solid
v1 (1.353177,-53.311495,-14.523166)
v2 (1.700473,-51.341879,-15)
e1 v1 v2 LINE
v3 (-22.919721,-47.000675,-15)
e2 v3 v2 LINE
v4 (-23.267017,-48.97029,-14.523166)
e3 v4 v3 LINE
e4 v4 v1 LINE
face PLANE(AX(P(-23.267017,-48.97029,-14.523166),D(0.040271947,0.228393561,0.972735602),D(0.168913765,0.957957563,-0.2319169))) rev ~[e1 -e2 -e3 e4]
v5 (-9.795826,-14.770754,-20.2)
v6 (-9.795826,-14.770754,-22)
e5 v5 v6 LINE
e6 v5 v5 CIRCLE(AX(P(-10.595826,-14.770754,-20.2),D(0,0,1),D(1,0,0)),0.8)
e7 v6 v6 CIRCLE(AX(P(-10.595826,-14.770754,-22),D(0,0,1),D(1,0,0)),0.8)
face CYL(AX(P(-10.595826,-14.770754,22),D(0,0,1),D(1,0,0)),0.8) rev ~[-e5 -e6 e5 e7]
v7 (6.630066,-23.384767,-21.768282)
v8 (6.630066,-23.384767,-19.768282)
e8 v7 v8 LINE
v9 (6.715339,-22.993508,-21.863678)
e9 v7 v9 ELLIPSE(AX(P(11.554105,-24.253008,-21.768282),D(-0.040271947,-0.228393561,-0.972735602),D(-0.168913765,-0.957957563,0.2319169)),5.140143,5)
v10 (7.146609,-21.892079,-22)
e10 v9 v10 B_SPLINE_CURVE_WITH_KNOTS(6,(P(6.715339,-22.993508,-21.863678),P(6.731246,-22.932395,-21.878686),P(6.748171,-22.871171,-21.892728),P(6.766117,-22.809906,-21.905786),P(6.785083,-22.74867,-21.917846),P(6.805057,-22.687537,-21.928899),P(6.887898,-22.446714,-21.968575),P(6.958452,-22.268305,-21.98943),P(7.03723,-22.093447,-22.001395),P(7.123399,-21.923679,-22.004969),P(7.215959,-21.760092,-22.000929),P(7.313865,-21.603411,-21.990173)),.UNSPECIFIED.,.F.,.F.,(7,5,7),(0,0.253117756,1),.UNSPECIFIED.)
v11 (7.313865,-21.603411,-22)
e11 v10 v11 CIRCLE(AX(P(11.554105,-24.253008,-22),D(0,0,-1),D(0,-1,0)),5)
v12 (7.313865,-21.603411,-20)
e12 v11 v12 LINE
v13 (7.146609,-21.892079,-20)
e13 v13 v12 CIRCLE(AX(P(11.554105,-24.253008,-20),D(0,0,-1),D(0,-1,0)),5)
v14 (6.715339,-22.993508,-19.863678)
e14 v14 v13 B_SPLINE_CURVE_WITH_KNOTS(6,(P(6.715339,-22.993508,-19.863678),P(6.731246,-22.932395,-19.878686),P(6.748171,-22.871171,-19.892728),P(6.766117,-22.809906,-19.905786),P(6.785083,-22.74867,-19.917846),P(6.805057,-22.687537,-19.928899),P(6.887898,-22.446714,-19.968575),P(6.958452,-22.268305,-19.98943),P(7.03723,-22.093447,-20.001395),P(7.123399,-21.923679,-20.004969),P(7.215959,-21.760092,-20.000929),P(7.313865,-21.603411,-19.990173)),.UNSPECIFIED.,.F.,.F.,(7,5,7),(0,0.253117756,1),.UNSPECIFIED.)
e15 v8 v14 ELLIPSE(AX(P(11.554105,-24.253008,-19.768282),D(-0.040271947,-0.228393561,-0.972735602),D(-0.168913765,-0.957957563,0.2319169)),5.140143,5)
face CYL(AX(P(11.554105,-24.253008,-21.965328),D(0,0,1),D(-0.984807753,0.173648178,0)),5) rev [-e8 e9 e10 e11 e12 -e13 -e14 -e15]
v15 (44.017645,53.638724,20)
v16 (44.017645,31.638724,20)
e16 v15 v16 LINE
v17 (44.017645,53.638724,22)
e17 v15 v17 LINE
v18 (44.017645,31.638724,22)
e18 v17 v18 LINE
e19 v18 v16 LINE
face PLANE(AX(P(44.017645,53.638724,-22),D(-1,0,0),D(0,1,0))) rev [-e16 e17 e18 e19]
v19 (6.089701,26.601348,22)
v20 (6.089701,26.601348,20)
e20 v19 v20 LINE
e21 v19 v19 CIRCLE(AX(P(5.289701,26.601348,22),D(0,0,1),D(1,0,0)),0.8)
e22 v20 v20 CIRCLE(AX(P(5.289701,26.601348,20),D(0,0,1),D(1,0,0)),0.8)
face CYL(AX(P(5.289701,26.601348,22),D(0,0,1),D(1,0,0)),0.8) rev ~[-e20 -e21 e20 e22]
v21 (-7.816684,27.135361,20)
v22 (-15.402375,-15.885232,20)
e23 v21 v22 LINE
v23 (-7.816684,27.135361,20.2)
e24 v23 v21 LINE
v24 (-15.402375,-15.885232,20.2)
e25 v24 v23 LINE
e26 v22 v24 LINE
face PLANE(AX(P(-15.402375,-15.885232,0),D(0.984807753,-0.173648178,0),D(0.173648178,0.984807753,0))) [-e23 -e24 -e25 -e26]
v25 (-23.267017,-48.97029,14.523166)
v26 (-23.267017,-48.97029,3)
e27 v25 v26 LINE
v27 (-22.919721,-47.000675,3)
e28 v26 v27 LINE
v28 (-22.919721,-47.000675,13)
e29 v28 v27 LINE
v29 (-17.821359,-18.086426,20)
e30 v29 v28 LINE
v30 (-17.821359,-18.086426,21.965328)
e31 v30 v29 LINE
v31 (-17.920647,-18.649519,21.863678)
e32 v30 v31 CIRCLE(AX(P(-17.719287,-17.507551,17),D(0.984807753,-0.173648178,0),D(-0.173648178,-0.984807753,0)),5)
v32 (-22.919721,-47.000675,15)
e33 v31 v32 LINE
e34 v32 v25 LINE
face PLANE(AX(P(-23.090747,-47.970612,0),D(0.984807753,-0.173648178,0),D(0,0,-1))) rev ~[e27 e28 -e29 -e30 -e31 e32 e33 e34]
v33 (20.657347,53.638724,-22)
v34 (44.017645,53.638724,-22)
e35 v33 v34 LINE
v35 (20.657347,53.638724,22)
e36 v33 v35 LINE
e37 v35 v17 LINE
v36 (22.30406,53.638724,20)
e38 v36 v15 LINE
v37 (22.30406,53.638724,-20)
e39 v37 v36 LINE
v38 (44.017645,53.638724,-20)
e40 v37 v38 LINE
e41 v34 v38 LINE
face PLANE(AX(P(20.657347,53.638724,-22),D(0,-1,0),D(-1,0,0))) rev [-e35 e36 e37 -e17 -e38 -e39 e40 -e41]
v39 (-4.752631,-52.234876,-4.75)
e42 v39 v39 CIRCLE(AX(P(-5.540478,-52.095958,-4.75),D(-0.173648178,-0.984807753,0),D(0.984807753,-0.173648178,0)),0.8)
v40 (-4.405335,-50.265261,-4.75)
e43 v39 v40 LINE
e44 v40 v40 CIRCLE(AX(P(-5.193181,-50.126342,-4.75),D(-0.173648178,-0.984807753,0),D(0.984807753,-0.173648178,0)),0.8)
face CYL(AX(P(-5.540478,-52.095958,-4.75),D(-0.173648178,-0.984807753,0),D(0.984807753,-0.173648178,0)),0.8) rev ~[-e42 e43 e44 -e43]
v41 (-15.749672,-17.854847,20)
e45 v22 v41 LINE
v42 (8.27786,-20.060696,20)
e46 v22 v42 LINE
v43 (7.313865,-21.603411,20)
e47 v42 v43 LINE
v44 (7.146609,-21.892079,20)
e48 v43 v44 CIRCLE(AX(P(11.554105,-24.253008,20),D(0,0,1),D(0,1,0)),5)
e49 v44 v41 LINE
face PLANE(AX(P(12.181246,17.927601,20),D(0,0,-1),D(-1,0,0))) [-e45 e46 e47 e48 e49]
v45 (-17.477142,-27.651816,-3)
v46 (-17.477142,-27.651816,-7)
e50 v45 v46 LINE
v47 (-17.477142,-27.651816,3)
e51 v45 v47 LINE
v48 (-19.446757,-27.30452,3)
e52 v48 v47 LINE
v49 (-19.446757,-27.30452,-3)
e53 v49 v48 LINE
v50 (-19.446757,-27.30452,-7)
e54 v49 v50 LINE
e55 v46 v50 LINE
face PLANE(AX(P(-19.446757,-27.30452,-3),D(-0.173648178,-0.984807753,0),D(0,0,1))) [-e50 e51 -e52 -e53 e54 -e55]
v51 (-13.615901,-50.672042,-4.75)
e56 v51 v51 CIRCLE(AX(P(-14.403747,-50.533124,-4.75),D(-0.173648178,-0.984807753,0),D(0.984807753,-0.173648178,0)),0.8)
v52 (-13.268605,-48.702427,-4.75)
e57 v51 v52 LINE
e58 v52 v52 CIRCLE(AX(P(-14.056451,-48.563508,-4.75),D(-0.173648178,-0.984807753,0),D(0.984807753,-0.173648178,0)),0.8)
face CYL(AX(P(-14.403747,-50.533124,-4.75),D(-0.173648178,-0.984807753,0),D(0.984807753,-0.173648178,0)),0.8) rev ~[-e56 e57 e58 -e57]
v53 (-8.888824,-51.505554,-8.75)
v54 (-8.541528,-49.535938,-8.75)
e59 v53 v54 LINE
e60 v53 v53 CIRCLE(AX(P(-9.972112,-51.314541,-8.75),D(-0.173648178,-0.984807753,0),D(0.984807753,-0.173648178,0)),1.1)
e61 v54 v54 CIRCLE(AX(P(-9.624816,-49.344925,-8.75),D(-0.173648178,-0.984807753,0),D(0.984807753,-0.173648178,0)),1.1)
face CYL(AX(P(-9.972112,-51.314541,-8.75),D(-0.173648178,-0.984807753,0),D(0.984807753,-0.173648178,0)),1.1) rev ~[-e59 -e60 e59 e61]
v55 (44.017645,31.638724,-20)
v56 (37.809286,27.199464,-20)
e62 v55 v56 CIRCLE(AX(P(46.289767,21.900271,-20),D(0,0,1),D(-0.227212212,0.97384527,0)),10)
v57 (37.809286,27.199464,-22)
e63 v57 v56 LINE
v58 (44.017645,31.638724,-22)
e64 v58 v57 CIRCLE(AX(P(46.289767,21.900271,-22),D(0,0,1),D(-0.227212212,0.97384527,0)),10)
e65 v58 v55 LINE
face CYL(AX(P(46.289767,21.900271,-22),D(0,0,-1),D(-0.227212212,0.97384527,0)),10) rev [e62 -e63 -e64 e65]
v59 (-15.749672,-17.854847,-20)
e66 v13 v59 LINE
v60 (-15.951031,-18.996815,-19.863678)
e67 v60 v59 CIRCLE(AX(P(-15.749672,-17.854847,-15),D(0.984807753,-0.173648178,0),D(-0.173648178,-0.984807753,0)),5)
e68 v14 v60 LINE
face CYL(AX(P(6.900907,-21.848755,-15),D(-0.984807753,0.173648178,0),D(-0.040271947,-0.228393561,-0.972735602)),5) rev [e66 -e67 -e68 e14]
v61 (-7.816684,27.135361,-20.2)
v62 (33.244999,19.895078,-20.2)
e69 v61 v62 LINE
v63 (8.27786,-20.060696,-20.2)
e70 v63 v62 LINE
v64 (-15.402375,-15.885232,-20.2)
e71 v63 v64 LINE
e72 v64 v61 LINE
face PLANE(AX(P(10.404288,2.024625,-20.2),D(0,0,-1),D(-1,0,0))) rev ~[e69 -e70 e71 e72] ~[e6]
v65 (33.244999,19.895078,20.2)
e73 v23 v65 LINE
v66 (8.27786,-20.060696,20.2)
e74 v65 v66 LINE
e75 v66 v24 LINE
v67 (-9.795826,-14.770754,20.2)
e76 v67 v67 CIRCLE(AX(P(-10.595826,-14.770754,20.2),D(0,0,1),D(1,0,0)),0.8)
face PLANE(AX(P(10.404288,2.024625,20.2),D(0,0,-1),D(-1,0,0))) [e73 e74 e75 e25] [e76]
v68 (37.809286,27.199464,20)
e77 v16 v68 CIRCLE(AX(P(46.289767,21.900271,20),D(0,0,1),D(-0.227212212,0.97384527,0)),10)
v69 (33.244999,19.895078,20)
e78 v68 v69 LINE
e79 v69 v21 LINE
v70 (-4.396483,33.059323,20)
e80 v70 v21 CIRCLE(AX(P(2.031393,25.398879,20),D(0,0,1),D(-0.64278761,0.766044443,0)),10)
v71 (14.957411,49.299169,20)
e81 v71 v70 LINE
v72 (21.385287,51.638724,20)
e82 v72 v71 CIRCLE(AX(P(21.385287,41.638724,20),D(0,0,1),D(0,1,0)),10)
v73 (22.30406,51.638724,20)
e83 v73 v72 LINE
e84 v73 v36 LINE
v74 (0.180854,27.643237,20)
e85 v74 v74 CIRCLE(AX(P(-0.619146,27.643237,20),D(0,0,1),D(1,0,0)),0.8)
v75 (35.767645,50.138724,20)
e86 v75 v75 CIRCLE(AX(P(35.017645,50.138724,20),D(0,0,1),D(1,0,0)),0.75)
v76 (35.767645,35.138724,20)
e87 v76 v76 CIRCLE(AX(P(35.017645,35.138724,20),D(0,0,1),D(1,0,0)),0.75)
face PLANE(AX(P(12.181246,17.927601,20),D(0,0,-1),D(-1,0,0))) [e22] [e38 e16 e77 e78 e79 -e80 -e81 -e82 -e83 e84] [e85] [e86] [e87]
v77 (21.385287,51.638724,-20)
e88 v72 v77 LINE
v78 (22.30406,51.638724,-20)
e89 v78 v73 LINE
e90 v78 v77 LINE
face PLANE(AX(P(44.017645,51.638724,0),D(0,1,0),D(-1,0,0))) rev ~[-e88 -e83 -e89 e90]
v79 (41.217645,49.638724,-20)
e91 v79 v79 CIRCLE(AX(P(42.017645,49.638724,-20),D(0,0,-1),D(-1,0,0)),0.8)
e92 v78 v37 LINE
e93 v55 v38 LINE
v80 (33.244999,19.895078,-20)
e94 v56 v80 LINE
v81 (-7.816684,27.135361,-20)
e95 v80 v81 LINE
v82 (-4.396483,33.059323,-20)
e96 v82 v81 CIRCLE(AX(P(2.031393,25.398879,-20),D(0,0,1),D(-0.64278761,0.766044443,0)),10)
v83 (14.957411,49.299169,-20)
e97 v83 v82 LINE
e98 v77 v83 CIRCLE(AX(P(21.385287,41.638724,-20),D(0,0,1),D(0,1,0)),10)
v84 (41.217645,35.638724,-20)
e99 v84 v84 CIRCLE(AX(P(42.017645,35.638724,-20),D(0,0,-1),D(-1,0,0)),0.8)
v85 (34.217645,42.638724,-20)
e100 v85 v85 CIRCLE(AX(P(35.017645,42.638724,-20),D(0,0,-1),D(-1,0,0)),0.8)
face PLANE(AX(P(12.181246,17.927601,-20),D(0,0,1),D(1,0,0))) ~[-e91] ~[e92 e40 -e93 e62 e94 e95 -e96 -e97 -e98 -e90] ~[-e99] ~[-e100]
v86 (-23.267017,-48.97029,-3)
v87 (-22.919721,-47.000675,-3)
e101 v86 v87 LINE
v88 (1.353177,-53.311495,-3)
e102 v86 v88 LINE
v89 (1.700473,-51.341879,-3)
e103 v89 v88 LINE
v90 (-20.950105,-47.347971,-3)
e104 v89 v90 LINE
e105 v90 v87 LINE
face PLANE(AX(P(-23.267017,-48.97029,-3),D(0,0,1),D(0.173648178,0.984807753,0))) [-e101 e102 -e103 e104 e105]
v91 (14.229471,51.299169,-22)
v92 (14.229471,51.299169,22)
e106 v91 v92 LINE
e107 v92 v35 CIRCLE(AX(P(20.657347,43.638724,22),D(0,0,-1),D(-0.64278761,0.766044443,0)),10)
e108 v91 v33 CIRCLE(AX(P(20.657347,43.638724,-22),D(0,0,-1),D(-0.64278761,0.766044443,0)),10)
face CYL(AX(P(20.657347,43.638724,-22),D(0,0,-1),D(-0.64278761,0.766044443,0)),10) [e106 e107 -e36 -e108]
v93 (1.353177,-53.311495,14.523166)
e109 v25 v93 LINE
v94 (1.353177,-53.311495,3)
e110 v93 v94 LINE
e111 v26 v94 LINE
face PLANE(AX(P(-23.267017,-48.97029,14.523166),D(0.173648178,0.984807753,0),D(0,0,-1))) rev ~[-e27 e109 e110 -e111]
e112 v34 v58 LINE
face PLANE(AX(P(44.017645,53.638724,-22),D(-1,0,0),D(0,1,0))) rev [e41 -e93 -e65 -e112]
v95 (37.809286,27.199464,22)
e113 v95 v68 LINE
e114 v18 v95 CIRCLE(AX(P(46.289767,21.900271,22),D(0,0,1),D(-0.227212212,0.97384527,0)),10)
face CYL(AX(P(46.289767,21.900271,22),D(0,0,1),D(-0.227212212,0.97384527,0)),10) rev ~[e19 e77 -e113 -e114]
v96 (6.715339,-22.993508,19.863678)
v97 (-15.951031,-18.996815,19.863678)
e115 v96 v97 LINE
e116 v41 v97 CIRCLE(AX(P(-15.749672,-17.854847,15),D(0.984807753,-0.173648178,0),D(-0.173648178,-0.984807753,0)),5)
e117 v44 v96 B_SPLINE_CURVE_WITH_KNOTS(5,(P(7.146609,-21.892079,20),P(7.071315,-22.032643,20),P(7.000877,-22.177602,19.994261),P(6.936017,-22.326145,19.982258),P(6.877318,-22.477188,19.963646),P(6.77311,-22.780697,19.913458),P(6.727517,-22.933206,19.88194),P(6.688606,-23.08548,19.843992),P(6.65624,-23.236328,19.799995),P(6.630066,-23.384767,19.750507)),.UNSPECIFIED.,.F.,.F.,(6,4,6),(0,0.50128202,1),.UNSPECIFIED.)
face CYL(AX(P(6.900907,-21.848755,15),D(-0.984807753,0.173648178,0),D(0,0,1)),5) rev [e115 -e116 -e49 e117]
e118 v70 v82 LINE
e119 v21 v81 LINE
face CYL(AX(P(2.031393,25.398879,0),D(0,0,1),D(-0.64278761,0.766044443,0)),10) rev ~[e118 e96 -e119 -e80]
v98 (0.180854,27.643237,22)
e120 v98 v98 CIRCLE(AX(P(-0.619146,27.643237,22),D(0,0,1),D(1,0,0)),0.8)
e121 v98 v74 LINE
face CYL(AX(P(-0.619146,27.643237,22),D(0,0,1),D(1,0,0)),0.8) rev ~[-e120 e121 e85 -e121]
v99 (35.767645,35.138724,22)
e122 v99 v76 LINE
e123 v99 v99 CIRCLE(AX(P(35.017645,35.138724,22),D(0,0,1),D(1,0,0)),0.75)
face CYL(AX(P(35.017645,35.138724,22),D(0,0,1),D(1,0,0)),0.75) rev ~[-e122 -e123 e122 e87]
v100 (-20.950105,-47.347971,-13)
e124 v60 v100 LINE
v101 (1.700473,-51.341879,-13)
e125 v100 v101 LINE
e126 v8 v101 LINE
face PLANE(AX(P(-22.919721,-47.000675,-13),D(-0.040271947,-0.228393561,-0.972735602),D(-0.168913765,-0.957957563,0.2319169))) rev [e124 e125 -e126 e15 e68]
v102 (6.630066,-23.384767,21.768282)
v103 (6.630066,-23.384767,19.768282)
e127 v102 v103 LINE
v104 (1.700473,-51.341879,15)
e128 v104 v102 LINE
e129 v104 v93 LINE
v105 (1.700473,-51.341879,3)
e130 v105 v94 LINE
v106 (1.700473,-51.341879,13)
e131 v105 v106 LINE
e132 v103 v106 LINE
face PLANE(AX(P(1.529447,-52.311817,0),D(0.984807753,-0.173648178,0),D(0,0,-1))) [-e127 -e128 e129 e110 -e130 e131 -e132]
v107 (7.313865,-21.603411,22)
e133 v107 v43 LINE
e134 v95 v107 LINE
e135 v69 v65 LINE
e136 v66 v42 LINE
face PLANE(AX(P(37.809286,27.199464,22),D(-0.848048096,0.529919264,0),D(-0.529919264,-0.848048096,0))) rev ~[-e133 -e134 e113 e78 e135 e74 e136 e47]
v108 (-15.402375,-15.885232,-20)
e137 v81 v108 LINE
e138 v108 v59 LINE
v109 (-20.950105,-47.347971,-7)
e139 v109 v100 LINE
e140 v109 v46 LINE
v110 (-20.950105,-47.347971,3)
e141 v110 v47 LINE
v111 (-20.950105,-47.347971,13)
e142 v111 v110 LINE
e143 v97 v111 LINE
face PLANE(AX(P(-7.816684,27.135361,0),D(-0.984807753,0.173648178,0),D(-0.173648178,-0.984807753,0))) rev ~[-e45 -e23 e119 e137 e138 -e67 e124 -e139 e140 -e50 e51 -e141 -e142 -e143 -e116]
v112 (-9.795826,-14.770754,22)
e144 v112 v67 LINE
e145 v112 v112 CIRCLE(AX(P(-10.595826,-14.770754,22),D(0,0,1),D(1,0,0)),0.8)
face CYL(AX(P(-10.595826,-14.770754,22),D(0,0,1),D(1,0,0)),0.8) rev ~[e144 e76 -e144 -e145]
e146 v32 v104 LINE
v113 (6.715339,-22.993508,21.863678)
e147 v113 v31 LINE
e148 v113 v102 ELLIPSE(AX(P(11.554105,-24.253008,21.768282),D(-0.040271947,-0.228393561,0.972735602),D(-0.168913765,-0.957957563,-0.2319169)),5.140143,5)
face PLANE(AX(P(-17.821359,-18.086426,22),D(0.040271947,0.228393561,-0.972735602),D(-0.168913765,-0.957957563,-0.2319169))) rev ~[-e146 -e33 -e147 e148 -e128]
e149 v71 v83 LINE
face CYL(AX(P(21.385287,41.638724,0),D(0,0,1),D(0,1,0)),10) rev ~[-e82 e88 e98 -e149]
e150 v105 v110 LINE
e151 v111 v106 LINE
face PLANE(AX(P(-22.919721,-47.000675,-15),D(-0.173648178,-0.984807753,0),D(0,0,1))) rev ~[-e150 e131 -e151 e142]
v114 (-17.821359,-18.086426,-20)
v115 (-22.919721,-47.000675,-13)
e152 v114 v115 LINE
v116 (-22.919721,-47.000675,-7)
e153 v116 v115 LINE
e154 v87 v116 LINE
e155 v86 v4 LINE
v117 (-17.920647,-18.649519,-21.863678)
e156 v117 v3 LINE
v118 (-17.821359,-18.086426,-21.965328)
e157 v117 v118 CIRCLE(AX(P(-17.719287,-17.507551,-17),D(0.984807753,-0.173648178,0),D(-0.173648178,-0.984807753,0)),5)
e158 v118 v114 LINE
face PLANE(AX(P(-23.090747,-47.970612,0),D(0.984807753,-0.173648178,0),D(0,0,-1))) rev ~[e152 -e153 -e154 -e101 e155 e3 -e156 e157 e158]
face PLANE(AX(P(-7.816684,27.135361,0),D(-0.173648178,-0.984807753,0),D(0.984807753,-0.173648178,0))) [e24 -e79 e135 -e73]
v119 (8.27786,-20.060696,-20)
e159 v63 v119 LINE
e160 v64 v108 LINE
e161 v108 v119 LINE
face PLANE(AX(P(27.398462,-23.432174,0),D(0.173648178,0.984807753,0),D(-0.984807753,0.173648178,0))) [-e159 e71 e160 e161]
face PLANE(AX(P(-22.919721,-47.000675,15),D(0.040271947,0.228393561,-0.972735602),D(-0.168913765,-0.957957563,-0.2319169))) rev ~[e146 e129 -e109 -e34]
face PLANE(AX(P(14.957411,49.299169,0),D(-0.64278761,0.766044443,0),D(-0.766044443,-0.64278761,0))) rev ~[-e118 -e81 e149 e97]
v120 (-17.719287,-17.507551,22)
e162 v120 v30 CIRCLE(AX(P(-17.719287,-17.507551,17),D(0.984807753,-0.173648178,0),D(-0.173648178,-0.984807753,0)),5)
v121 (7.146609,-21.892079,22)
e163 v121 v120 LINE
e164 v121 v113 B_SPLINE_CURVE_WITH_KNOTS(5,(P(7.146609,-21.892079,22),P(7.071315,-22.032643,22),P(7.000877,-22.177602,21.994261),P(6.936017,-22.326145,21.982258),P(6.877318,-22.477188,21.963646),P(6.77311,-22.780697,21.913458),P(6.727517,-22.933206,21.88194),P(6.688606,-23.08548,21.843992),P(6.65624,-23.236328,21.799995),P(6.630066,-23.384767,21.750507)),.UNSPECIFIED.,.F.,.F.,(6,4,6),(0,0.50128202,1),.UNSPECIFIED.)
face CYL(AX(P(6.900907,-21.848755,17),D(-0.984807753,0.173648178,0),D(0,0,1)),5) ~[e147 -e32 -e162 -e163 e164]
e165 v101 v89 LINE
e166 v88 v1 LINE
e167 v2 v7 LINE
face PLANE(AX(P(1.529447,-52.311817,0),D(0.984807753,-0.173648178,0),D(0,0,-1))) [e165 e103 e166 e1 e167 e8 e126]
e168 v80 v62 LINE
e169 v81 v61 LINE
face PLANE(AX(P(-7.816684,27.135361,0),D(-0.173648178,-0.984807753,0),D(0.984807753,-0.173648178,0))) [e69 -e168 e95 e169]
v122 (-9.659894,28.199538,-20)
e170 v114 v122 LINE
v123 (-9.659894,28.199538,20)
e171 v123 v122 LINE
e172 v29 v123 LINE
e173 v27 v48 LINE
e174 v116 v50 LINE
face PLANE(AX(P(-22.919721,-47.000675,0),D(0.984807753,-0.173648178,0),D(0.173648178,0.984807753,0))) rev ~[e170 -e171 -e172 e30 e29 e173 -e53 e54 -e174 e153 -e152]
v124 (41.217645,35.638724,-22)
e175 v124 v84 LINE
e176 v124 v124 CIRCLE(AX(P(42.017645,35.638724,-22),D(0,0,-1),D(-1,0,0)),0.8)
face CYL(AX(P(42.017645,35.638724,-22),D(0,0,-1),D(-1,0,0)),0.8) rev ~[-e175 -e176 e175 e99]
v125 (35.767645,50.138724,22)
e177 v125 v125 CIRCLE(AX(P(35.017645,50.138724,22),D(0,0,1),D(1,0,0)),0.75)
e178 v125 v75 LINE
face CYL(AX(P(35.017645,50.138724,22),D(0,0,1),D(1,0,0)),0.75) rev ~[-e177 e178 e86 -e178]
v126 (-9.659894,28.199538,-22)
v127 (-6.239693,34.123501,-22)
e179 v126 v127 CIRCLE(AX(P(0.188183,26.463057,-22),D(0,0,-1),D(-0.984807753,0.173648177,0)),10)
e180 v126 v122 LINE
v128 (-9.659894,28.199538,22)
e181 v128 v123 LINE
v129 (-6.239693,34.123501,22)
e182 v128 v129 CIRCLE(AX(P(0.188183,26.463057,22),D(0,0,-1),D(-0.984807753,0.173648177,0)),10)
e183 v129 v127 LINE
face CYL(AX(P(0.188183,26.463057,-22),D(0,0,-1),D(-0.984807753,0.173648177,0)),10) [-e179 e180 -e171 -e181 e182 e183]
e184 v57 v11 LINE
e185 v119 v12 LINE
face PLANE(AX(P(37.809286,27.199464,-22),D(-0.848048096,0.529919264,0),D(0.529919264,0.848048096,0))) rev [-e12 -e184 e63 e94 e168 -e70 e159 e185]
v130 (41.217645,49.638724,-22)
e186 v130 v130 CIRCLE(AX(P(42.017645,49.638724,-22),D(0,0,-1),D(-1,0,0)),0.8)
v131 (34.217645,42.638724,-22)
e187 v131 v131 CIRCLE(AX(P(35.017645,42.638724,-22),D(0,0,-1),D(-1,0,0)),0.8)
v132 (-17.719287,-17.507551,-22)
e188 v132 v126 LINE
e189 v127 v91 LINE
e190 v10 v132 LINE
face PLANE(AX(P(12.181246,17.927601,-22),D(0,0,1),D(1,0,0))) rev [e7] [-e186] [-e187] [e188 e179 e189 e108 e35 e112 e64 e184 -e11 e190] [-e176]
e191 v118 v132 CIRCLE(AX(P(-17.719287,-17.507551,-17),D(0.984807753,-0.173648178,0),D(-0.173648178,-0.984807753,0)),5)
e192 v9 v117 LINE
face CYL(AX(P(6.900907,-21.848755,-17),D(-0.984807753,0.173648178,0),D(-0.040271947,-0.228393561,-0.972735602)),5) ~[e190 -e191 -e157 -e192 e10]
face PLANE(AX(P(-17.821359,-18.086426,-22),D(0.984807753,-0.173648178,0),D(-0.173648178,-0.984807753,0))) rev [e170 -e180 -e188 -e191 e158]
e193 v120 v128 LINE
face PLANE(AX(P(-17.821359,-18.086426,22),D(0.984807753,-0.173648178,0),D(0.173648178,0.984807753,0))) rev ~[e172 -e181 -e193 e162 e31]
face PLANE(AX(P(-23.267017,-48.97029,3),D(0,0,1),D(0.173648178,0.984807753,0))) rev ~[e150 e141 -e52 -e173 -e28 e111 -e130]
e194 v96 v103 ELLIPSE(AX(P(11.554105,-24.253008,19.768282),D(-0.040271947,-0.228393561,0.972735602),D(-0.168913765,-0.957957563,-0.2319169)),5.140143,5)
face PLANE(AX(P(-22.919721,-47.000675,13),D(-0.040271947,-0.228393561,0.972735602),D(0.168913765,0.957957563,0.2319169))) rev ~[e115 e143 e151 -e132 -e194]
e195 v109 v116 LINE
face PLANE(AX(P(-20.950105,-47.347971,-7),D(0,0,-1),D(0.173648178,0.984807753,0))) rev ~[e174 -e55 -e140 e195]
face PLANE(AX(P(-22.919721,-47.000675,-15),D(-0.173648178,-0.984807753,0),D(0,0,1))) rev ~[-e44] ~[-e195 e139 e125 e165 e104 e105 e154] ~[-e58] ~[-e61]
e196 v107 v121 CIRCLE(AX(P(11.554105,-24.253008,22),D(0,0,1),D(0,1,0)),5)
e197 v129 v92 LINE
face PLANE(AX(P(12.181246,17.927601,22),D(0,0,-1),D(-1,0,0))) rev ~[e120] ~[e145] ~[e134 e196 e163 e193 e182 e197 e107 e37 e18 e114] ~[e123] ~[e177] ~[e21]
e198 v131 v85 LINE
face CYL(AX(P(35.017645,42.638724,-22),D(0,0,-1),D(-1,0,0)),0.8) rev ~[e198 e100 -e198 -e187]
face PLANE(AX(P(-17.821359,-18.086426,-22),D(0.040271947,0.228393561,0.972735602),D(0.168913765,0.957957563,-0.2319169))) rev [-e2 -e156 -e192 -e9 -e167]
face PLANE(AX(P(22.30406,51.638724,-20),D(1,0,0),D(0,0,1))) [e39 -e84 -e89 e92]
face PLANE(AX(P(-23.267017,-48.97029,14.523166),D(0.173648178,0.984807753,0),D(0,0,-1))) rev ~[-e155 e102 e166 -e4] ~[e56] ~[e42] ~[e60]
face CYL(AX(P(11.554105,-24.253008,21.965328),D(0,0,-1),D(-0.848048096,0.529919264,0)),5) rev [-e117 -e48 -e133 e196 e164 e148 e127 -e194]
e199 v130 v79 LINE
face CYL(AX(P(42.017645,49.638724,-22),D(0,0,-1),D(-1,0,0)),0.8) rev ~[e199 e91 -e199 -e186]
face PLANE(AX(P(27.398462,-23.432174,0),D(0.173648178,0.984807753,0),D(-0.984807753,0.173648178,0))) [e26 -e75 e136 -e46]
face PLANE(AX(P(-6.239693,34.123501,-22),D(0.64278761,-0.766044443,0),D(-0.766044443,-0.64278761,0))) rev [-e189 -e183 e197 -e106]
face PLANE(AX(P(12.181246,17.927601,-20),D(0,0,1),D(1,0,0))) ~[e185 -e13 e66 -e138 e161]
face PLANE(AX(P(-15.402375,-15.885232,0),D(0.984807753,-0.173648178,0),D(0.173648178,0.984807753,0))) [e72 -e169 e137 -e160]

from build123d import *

# Parameters (mm, degrees)
EXTRUDE_1_DEPTH      = 20
CUT_EXTRUDE_1_DEPTH  = 2
EXTRUDE_START        = 2
EXTRUDE_2_DEPTH      = 2
EXTRUDE_3_DEPTH      = 33
CUT_EXTRUDE_10_DEPTH = 22.5
EXTRUDE_4_DEPTH      = 25
SKETCH_19_W          = 6
SKETCH_19_H          = 22
CUT_EXTRUDE_11_DEPTH = 84.590810023
CUT_EXTRUDE_7_REACH  = 84.162
SKETCH_15_R          = 0.75
CUT_EXTRUDE_8_REACH  = 84.162
SKETCH_16_R          = 0.8
CUT_EXTRUDE_9_REACH  = 117.914
SKETCH_17_W          = 21.713584054
SKETCH_17_H          = 40
CUT_EXTRUDE_13_REACH = 84.162
SKETCH_23_R          = 0.8
SKETCH_24_R          = 0.8
CUT_EXTRUDE_14_DEPTH = 83.162435205
SKETCH_25_W          = 4
SKETCH_25_H          = 20
CUT_EXTRUDE_15_DEPTH = 82.996087258
CUT_EXTRUDE_16_REACH = 121.797
SKETCH_26_R          = 0.8
CUT_EXTRUDE_17_REACH = 121.797
SKETCH_27_R          = 1.1
FILLET_1_R           = 5
FILLET_2_R           = 5
FILLET_3_R           = 5
CUT_EXTRUDE_18_DEPTH = 20.2


with BuildPart() as part:
    # 草图1 → 凸台-拉伸1 (new, symmetric)
    with BuildSketch(Plane.XY):
        with BuildLine():
            Line((20.657346874, 53.638724152), (44.017644532, 53.638724152))
            Line((44.017644532, 53.638724152), (44.017644532, 51.638724152))
            Line((44.017644532, 51.638724152), (21.385287343, 51.638724152))
            ThreePointArc((21.385287343, 51.638724152), (17.96508591, 51.03565036), (14.957411246, 49.299168583))
            Line((14.957411246, 49.299168583), (-4.39648281, 33.059323219))
            ThreePointArc((-4.39648281, 33.059323219), (-6.628860751, 30.398878788), (-7.816684243, 27.135360565))
            Line((-7.816684243, 27.135360565), (-20.950105242, -47.347971173))
            Line((-20.950105242, -47.347971173), (-22.919720748, -47.000674818))
            Line((-22.919720748, -47.000674818), (-9.659894213, 28.199538337))
            ThreePointArc((-9.659894213, 28.199538337), (-8.472070721, 31.463056561), (-6.23969278, 34.123500992))
            Line((-6.23969278, 34.123500992), (14.229470778, 51.299168583))
            ThreePointArc((14.229470778, 51.299168583), (17.237145441, 53.03565036), (20.657346874, 53.638724152))
        make_face()
    extrude(amount=EXTRUDE_1_DEPTH, both=True)

    # 草图3 → 切除-拉伸1 (cut)
    with BuildSketch(Plane(origin=(-14.191017833, 2.502259328, 0), x_dir=(0, 0, 1), z_dir=(-0.9848077530122074, 0.17364817766693458, 0))):
        Polygon((13, -50.266596698), (20, -50.266596698), (20, -20.906299041), align=None)
    cut_extrude_1 = extrude(amount=-CUT_EXTRUDE_1_DEPTH, mode=Mode.SUBTRACT)

    # 镜向1: 切除-拉伸1 across plane
    add(cut_extrude_1.mirror(Plane.XY), mode=Mode.SUBTRACT)

    # 草图4 → 凸台-拉伸2 (add)
    with BuildSketch(Plane.XY.offset(20).offset(EXTRUDE_START)):
        with BuildLine():
            Line((44.017644532, 53.638724152), (44.017644532, 31.638724152))
            ThreePointArc((44.017644532, 31.638724152), (40.473292143, 30.034681338), (37.809285693, 27.199464091))
            Line((37.809285693, 27.199464091), (6.798835262, -22.427630496))
            Line((6.798835262, -22.427630496), (-17.821358564, -18.086426054))
            Line((-17.821358564, -18.086426054), (-9.659894213, 28.199538337))
            ThreePointArc((-9.659894213, 28.199538337), (-8.472070721, 31.463056561), (-6.23969278, 34.123500992))
            Line((-6.23969278, 34.123500992), (14.229470778, 51.299168583))
            ThreePointArc((14.229470778, 51.299168583), (17.237145441, 53.03565036), (20.657346874, 53.638724152))
            Line((20.657346874, 53.638724152), (44.017644532, 53.638724152))
        make_face()
    extrude_2 = extrude(amount=-EXTRUDE_2_DEPTH)

    # 草图5 → 凸台-拉伸3 (add)
    with BuildSketch(Plane(origin=(-14.191017833, 2.502259328, 0), x_dir=(0, 0, 1), z_dir=(-0.9848077530122074, 0.17364817766693458, 0))):
        Polygon((22, -20.906299041), (15, -50.266596698), (13, -50.266596698), (20, -20.906299041), align=None)
    extrude_3 = extrude(amount=-EXTRUDE_3_DEPTH)

    # 镜向3: 凸台-拉伸2, 凸台-拉伸3 across plane
    add(extrude_2.mirror(Plane.XY))
    add(extrude_3.mirror(Plane.XY))

    # 草图18 → 切除-拉伸10 (cut, symmetric)
    with BuildSketch(Plane.XY):
        Polygon((6.798835262, -22.427630496), (1.700473078, -51.34187926), (9.578935102, -52.731064681), (14.677297286, -23.816815917), align=None)
    extrude(amount=CUT_EXTRUDE_10_DEPTH, both=True, mode=Mode.SUBTRACT)

    # 草图10 → 凸台-拉伸4 (add)
    with BuildSketch(Plane(origin=(-14.191017833, 2.502259328, 0), x_dir=(0, 0, 1), z_dir=(-0.9848077530122074, 0.17364817766693458, 0))):
        Polygon((-15, -50.266596698), (15, -50.266596698), (14.523165597, -52.266596698), (-14.523165597, -52.266596698), align=None)
    extrude(amount=-EXTRUDE_4_DEPTH)

    # 草图19 → 切除-拉伸11 (cut, through all)
    with BuildSketch(Plane(origin=(-14.191017833, 2.502259328, 0), x_dir=(0, 0, 1), z_dir=(-0.9848077530122074, 0.17364817766693458, 0))):
        with Locations((0, -41.266596698)):
            Rectangle(SKETCH_19_W, SKETCH_19_H)
    extrude(amount=-CUT_EXTRUDE_11_DEPTH, mode=Mode.SUBTRACT)

    # 草图15 → 切除-拉伸7 (cut, up to next)
    with BuildSketch(Plane.XY.offset(22), mode=Mode.PRIVATE) as cut_extrude_7_sk1:
        with Locations((35.017644532, 50.138724152)):
            Circle(SKETCH_15_R)
    cut_extrude_7_tool1 = extrude(cut_extrude_7_sk1.sketch, amount=-CUT_EXTRUDE_7_REACH, mode=Mode.PRIVATE) & part.part
    # 草图15 → 切除-拉伸7 (cut, up to next)
    with BuildSketch(Plane.XY.offset(22), mode=Mode.PRIVATE) as cut_extrude_7_sk2:
        with Locations((35.017644532, 35.138724152)):
            Circle(SKETCH_15_R)
    cut_extrude_7_tool2 = extrude(cut_extrude_7_sk2.sketch, amount=-CUT_EXTRUDE_7_REACH, mode=Mode.PRIVATE) & part.part
    add(cut_extrude_7_tool1.solids().sort_by_distance((35.017645, 50.138724, 22))[0], mode=Mode.SUBTRACT)
    add(cut_extrude_7_tool2.solids().sort_by_distance((35.017645, 35.138724, 22))[0], mode=Mode.SUBTRACT)

    # 草图16 → 切除-拉伸8 (cut, up to next)
    with BuildSketch(Plane(origin=(0, 0, -22), x_dir=(-1, 0, 0), z_dir=(0, 0, -1)), mode=Mode.PRIVATE) as cut_extrude_8_sk1:
        with Locations((-42.017644532, 49.638724152)):
            Circle(SKETCH_16_R)
    cut_extrude_8_tool1 = extrude(cut_extrude_8_sk1.sketch, amount=-CUT_EXTRUDE_8_REACH, mode=Mode.PRIVATE) & part.part
    # 草图16 → 切除-拉伸8 (cut, up to next)
    with BuildSketch(Plane(origin=(0, 0, -22), x_dir=(-1, 0, 0), z_dir=(0, 0, -1)), mode=Mode.PRIVATE) as cut_extrude_8_sk2:
        with Locations((-42.017644532, 35.638724152)):
            Circle(SKETCH_16_R)
    cut_extrude_8_tool2 = extrude(cut_extrude_8_sk2.sketch, amount=-CUT_EXTRUDE_8_REACH, mode=Mode.PRIVATE) & part.part
    # 草图16 → 切除-拉伸8 (cut, up to next)
    with BuildSketch(Plane(origin=(0, 0, -22), x_dir=(-1, 0, 0), z_dir=(0, 0, -1)), mode=Mode.PRIVATE) as cut_extrude_8_sk3:
        with Locations((-35.017644532, 42.638724152)):
            Circle(SKETCH_16_R)
    cut_extrude_8_tool3 = extrude(cut_extrude_8_sk3.sketch, amount=-CUT_EXTRUDE_8_REACH, mode=Mode.PRIVATE) & part.part
    add(cut_extrude_8_tool1.solids().sort_by_distance((42.017645, 49.638724, -22))[0], mode=Mode.SUBTRACT)
    add(cut_extrude_8_tool2.solids().sort_by_distance((42.017645, 35.638724, -22))[0], mode=Mode.SUBTRACT)
    add(cut_extrude_8_tool3.solids().sort_by_distance((35.017645, 42.638724, -22))[0], mode=Mode.SUBTRACT)

    # 草图17 → 切除-拉伸9 (cut, up to next)
    with BuildSketch(Plane.XZ.offset(-51.638724152), mode=Mode.PRIVATE) as cut_extrude_9_sk1:
        with Locations((33.160852505, 0)):
            Rectangle(SKETCH_17_W, SKETCH_17_H)
    cut_extrude_9_tool1 = extrude(cut_extrude_9_sk1.sketch, amount=-CUT_EXTRUDE_9_REACH, mode=Mode.PRIVATE) & part.part
    add(cut_extrude_9_tool1.solids().sort_by_distance((33.160853, 51.638724, 0))[0], mode=Mode.SUBTRACT)

    # 草图23 → 切除-拉伸13 (cut, up to next)
    with BuildSketch(Plane.XY.offset(22), mode=Mode.PRIVATE) as cut_extrude_13_sk1:
        with Locations((-0.619145661, 27.643236889)):
            Circle(SKETCH_23_R)
    cut_extrude_13_tool1 = extrude(cut_extrude_13_sk1.sketch, amount=-CUT_EXTRUDE_13_REACH, mode=Mode.PRIVATE) & part.part
    # 草图23 → 切除-拉伸13 (cut, up to next)
    with BuildSketch(Plane.XY.offset(22), mode=Mode.PRIVATE) as cut_extrude_13_sk2:
        with Locations((5.289700857, 26.601347823)):
            Circle(SKETCH_23_R)
    cut_extrude_13_tool2 = extrude(cut_extrude_13_sk2.sketch, amount=-CUT_EXTRUDE_13_REACH, mode=Mode.PRIVATE) & part.part
    add(cut_extrude_13_tool1.solids().sort_by_distance((-0.619146, 27.643237, 22))[0], mode=Mode.SUBTRACT)
    add(cut_extrude_13_tool2.solids().sort_by_distance((5.289701, 26.601348, 22))[0], mode=Mode.SUBTRACT)

    # 草图24 → 切除-拉伸14 (cut, through all)
    with BuildSketch(Plane.XY.offset(22)):
        with Locations((-10.595826096, -14.770754093)):
            Circle(SKETCH_24_R)
    extrude(amount=-CUT_EXTRUDE_14_DEPTH, mode=Mode.SUBTRACT)

    # 草图25 → 切除-拉伸15 (cut, through all)
    with BuildSketch(Plane(origin=(-12.221402327, 2.154962972, 0), x_dir=(0, 0, -1), z_dir=(0.9848077530122075, -0.1736481776669347, 0))):
        with Locations((5, -40.266596698)):
            Rectangle(SKETCH_25_W, SKETCH_25_H)
    extrude(amount=-CUT_EXTRUDE_15_DEPTH, mode=Mode.SUBTRACT)

    # 草图26 → 切除-拉伸16 (cut, up to next)
    with BuildSketch(Plane(origin=(-9.075999269, -51.472549652, 0), x_dir=(0.9848077530122074, -0.17364817766693458, 0), z_dir=(-0.17364817766693458, -0.9848077530122074, 0)), mode=Mode.PRIVATE) as cut_extrude_16_sk1:
        with Locations((3.590062842, -4.75)):
            Circle(SKETCH_26_R)
    cut_extrude_16_tool1 = extrude(cut_extrude_16_sk1.sketch, amount=-CUT_EXTRUDE_16_REACH, mode=Mode.PRIVATE) & part.part
    # 草图26 → 切除-拉伸16 (cut, up to next)
    with BuildSketch(Plane(origin=(-9.075999269, -51.472549652, 0), x_dir=(0.9848077530122074, -0.17364817766693458, 0), z_dir=(-0.17364817766693458, -0.9848077530122074, 0)), mode=Mode.PRIVATE) as cut_extrude_16_sk2:
        with Locations((-5.409937158, -4.75)):
            Circle(SKETCH_26_R)
    cut_extrude_16_tool2 = extrude(cut_extrude_16_sk2.sketch, amount=-CUT_EXTRUDE_16_REACH, mode=Mode.PRIVATE) & part.part
    add(cut_extrude_16_tool1.solids().sort_by_distance((-5.540478, -52.095958, -4.75))[0], mode=Mode.SUBTRACT)
    add(cut_extrude_16_tool2.solids().sort_by_distance((-14.403747, -50.533124, -4.75))[0], mode=Mode.SUBTRACT)

    # 草图27 → 切除-拉伸17 (cut, up to next)
    with BuildSketch(Plane(origin=(-9.075999269, -51.472549652, 0), x_dir=(0.9848077530122074, -0.17364817766693458, 0), z_dir=(-0.17364817766693458, -0.9848077530122074, 0)), mode=Mode.PRIVATE) as cut_extrude_17_sk1:
        with Locations((-0.909937158, -8.75)):
            Circle(SKETCH_27_R)
    cut_extrude_17_tool1 = extrude(cut_extrude_17_sk1.sketch, amount=-CUT_EXTRUDE_17_REACH, mode=Mode.PRIVATE) & part.part
    add(cut_extrude_17_tool1.solids().sort_by_distance((-9.972112, -51.314541, -8.75))[0], mode=Mode.SUBTRACT)

    # 圆角1
    fillet_1_edges = [part.edges().sort_by_distance(p)[0] for p in [
        (-5.511261651, -20.257028275, -22),
        (-5.511261651, -20.257028275, 22),
    ]]
    fillet(fillet_1_edges, radius=FILLET_1_R)

    # 圆角2
    fillet_2_edges = [part.edges().sort_by_distance(p)[0] for p in [
        (-4.526453898, -20.430676453, -20),
        (-4.526453898, -20.430676453, 20),
    ]]
    fillet(fillet_2_edges, radius=FILLET_2_R)

    # 圆角3
    fillet_3_edges = [part.edges().sort_by_distance(p)[0] for p in [
        (6.798835262, -22.427630496, 20.965328277),
        (6.798835262, -22.427630496, -20.965328277),
    ]]
    fillet(fillet_3_edges, radius=FILLET_3_R)

    # 草图28 → 切除-拉伸18 (cut, symmetric)
    with BuildSketch(Plane.XY):
        Polygon((-15.402375378, -15.885231658), (-7.816684243, 27.135360565), (37.188945048, 19.199653837), (27.398461996, -23.432174084), align=None)
    extrude(amount=CUT_EXTRUDE_18_DEPTH, both=True, mode=Mode.SUBTRACT)


solid = part.part
